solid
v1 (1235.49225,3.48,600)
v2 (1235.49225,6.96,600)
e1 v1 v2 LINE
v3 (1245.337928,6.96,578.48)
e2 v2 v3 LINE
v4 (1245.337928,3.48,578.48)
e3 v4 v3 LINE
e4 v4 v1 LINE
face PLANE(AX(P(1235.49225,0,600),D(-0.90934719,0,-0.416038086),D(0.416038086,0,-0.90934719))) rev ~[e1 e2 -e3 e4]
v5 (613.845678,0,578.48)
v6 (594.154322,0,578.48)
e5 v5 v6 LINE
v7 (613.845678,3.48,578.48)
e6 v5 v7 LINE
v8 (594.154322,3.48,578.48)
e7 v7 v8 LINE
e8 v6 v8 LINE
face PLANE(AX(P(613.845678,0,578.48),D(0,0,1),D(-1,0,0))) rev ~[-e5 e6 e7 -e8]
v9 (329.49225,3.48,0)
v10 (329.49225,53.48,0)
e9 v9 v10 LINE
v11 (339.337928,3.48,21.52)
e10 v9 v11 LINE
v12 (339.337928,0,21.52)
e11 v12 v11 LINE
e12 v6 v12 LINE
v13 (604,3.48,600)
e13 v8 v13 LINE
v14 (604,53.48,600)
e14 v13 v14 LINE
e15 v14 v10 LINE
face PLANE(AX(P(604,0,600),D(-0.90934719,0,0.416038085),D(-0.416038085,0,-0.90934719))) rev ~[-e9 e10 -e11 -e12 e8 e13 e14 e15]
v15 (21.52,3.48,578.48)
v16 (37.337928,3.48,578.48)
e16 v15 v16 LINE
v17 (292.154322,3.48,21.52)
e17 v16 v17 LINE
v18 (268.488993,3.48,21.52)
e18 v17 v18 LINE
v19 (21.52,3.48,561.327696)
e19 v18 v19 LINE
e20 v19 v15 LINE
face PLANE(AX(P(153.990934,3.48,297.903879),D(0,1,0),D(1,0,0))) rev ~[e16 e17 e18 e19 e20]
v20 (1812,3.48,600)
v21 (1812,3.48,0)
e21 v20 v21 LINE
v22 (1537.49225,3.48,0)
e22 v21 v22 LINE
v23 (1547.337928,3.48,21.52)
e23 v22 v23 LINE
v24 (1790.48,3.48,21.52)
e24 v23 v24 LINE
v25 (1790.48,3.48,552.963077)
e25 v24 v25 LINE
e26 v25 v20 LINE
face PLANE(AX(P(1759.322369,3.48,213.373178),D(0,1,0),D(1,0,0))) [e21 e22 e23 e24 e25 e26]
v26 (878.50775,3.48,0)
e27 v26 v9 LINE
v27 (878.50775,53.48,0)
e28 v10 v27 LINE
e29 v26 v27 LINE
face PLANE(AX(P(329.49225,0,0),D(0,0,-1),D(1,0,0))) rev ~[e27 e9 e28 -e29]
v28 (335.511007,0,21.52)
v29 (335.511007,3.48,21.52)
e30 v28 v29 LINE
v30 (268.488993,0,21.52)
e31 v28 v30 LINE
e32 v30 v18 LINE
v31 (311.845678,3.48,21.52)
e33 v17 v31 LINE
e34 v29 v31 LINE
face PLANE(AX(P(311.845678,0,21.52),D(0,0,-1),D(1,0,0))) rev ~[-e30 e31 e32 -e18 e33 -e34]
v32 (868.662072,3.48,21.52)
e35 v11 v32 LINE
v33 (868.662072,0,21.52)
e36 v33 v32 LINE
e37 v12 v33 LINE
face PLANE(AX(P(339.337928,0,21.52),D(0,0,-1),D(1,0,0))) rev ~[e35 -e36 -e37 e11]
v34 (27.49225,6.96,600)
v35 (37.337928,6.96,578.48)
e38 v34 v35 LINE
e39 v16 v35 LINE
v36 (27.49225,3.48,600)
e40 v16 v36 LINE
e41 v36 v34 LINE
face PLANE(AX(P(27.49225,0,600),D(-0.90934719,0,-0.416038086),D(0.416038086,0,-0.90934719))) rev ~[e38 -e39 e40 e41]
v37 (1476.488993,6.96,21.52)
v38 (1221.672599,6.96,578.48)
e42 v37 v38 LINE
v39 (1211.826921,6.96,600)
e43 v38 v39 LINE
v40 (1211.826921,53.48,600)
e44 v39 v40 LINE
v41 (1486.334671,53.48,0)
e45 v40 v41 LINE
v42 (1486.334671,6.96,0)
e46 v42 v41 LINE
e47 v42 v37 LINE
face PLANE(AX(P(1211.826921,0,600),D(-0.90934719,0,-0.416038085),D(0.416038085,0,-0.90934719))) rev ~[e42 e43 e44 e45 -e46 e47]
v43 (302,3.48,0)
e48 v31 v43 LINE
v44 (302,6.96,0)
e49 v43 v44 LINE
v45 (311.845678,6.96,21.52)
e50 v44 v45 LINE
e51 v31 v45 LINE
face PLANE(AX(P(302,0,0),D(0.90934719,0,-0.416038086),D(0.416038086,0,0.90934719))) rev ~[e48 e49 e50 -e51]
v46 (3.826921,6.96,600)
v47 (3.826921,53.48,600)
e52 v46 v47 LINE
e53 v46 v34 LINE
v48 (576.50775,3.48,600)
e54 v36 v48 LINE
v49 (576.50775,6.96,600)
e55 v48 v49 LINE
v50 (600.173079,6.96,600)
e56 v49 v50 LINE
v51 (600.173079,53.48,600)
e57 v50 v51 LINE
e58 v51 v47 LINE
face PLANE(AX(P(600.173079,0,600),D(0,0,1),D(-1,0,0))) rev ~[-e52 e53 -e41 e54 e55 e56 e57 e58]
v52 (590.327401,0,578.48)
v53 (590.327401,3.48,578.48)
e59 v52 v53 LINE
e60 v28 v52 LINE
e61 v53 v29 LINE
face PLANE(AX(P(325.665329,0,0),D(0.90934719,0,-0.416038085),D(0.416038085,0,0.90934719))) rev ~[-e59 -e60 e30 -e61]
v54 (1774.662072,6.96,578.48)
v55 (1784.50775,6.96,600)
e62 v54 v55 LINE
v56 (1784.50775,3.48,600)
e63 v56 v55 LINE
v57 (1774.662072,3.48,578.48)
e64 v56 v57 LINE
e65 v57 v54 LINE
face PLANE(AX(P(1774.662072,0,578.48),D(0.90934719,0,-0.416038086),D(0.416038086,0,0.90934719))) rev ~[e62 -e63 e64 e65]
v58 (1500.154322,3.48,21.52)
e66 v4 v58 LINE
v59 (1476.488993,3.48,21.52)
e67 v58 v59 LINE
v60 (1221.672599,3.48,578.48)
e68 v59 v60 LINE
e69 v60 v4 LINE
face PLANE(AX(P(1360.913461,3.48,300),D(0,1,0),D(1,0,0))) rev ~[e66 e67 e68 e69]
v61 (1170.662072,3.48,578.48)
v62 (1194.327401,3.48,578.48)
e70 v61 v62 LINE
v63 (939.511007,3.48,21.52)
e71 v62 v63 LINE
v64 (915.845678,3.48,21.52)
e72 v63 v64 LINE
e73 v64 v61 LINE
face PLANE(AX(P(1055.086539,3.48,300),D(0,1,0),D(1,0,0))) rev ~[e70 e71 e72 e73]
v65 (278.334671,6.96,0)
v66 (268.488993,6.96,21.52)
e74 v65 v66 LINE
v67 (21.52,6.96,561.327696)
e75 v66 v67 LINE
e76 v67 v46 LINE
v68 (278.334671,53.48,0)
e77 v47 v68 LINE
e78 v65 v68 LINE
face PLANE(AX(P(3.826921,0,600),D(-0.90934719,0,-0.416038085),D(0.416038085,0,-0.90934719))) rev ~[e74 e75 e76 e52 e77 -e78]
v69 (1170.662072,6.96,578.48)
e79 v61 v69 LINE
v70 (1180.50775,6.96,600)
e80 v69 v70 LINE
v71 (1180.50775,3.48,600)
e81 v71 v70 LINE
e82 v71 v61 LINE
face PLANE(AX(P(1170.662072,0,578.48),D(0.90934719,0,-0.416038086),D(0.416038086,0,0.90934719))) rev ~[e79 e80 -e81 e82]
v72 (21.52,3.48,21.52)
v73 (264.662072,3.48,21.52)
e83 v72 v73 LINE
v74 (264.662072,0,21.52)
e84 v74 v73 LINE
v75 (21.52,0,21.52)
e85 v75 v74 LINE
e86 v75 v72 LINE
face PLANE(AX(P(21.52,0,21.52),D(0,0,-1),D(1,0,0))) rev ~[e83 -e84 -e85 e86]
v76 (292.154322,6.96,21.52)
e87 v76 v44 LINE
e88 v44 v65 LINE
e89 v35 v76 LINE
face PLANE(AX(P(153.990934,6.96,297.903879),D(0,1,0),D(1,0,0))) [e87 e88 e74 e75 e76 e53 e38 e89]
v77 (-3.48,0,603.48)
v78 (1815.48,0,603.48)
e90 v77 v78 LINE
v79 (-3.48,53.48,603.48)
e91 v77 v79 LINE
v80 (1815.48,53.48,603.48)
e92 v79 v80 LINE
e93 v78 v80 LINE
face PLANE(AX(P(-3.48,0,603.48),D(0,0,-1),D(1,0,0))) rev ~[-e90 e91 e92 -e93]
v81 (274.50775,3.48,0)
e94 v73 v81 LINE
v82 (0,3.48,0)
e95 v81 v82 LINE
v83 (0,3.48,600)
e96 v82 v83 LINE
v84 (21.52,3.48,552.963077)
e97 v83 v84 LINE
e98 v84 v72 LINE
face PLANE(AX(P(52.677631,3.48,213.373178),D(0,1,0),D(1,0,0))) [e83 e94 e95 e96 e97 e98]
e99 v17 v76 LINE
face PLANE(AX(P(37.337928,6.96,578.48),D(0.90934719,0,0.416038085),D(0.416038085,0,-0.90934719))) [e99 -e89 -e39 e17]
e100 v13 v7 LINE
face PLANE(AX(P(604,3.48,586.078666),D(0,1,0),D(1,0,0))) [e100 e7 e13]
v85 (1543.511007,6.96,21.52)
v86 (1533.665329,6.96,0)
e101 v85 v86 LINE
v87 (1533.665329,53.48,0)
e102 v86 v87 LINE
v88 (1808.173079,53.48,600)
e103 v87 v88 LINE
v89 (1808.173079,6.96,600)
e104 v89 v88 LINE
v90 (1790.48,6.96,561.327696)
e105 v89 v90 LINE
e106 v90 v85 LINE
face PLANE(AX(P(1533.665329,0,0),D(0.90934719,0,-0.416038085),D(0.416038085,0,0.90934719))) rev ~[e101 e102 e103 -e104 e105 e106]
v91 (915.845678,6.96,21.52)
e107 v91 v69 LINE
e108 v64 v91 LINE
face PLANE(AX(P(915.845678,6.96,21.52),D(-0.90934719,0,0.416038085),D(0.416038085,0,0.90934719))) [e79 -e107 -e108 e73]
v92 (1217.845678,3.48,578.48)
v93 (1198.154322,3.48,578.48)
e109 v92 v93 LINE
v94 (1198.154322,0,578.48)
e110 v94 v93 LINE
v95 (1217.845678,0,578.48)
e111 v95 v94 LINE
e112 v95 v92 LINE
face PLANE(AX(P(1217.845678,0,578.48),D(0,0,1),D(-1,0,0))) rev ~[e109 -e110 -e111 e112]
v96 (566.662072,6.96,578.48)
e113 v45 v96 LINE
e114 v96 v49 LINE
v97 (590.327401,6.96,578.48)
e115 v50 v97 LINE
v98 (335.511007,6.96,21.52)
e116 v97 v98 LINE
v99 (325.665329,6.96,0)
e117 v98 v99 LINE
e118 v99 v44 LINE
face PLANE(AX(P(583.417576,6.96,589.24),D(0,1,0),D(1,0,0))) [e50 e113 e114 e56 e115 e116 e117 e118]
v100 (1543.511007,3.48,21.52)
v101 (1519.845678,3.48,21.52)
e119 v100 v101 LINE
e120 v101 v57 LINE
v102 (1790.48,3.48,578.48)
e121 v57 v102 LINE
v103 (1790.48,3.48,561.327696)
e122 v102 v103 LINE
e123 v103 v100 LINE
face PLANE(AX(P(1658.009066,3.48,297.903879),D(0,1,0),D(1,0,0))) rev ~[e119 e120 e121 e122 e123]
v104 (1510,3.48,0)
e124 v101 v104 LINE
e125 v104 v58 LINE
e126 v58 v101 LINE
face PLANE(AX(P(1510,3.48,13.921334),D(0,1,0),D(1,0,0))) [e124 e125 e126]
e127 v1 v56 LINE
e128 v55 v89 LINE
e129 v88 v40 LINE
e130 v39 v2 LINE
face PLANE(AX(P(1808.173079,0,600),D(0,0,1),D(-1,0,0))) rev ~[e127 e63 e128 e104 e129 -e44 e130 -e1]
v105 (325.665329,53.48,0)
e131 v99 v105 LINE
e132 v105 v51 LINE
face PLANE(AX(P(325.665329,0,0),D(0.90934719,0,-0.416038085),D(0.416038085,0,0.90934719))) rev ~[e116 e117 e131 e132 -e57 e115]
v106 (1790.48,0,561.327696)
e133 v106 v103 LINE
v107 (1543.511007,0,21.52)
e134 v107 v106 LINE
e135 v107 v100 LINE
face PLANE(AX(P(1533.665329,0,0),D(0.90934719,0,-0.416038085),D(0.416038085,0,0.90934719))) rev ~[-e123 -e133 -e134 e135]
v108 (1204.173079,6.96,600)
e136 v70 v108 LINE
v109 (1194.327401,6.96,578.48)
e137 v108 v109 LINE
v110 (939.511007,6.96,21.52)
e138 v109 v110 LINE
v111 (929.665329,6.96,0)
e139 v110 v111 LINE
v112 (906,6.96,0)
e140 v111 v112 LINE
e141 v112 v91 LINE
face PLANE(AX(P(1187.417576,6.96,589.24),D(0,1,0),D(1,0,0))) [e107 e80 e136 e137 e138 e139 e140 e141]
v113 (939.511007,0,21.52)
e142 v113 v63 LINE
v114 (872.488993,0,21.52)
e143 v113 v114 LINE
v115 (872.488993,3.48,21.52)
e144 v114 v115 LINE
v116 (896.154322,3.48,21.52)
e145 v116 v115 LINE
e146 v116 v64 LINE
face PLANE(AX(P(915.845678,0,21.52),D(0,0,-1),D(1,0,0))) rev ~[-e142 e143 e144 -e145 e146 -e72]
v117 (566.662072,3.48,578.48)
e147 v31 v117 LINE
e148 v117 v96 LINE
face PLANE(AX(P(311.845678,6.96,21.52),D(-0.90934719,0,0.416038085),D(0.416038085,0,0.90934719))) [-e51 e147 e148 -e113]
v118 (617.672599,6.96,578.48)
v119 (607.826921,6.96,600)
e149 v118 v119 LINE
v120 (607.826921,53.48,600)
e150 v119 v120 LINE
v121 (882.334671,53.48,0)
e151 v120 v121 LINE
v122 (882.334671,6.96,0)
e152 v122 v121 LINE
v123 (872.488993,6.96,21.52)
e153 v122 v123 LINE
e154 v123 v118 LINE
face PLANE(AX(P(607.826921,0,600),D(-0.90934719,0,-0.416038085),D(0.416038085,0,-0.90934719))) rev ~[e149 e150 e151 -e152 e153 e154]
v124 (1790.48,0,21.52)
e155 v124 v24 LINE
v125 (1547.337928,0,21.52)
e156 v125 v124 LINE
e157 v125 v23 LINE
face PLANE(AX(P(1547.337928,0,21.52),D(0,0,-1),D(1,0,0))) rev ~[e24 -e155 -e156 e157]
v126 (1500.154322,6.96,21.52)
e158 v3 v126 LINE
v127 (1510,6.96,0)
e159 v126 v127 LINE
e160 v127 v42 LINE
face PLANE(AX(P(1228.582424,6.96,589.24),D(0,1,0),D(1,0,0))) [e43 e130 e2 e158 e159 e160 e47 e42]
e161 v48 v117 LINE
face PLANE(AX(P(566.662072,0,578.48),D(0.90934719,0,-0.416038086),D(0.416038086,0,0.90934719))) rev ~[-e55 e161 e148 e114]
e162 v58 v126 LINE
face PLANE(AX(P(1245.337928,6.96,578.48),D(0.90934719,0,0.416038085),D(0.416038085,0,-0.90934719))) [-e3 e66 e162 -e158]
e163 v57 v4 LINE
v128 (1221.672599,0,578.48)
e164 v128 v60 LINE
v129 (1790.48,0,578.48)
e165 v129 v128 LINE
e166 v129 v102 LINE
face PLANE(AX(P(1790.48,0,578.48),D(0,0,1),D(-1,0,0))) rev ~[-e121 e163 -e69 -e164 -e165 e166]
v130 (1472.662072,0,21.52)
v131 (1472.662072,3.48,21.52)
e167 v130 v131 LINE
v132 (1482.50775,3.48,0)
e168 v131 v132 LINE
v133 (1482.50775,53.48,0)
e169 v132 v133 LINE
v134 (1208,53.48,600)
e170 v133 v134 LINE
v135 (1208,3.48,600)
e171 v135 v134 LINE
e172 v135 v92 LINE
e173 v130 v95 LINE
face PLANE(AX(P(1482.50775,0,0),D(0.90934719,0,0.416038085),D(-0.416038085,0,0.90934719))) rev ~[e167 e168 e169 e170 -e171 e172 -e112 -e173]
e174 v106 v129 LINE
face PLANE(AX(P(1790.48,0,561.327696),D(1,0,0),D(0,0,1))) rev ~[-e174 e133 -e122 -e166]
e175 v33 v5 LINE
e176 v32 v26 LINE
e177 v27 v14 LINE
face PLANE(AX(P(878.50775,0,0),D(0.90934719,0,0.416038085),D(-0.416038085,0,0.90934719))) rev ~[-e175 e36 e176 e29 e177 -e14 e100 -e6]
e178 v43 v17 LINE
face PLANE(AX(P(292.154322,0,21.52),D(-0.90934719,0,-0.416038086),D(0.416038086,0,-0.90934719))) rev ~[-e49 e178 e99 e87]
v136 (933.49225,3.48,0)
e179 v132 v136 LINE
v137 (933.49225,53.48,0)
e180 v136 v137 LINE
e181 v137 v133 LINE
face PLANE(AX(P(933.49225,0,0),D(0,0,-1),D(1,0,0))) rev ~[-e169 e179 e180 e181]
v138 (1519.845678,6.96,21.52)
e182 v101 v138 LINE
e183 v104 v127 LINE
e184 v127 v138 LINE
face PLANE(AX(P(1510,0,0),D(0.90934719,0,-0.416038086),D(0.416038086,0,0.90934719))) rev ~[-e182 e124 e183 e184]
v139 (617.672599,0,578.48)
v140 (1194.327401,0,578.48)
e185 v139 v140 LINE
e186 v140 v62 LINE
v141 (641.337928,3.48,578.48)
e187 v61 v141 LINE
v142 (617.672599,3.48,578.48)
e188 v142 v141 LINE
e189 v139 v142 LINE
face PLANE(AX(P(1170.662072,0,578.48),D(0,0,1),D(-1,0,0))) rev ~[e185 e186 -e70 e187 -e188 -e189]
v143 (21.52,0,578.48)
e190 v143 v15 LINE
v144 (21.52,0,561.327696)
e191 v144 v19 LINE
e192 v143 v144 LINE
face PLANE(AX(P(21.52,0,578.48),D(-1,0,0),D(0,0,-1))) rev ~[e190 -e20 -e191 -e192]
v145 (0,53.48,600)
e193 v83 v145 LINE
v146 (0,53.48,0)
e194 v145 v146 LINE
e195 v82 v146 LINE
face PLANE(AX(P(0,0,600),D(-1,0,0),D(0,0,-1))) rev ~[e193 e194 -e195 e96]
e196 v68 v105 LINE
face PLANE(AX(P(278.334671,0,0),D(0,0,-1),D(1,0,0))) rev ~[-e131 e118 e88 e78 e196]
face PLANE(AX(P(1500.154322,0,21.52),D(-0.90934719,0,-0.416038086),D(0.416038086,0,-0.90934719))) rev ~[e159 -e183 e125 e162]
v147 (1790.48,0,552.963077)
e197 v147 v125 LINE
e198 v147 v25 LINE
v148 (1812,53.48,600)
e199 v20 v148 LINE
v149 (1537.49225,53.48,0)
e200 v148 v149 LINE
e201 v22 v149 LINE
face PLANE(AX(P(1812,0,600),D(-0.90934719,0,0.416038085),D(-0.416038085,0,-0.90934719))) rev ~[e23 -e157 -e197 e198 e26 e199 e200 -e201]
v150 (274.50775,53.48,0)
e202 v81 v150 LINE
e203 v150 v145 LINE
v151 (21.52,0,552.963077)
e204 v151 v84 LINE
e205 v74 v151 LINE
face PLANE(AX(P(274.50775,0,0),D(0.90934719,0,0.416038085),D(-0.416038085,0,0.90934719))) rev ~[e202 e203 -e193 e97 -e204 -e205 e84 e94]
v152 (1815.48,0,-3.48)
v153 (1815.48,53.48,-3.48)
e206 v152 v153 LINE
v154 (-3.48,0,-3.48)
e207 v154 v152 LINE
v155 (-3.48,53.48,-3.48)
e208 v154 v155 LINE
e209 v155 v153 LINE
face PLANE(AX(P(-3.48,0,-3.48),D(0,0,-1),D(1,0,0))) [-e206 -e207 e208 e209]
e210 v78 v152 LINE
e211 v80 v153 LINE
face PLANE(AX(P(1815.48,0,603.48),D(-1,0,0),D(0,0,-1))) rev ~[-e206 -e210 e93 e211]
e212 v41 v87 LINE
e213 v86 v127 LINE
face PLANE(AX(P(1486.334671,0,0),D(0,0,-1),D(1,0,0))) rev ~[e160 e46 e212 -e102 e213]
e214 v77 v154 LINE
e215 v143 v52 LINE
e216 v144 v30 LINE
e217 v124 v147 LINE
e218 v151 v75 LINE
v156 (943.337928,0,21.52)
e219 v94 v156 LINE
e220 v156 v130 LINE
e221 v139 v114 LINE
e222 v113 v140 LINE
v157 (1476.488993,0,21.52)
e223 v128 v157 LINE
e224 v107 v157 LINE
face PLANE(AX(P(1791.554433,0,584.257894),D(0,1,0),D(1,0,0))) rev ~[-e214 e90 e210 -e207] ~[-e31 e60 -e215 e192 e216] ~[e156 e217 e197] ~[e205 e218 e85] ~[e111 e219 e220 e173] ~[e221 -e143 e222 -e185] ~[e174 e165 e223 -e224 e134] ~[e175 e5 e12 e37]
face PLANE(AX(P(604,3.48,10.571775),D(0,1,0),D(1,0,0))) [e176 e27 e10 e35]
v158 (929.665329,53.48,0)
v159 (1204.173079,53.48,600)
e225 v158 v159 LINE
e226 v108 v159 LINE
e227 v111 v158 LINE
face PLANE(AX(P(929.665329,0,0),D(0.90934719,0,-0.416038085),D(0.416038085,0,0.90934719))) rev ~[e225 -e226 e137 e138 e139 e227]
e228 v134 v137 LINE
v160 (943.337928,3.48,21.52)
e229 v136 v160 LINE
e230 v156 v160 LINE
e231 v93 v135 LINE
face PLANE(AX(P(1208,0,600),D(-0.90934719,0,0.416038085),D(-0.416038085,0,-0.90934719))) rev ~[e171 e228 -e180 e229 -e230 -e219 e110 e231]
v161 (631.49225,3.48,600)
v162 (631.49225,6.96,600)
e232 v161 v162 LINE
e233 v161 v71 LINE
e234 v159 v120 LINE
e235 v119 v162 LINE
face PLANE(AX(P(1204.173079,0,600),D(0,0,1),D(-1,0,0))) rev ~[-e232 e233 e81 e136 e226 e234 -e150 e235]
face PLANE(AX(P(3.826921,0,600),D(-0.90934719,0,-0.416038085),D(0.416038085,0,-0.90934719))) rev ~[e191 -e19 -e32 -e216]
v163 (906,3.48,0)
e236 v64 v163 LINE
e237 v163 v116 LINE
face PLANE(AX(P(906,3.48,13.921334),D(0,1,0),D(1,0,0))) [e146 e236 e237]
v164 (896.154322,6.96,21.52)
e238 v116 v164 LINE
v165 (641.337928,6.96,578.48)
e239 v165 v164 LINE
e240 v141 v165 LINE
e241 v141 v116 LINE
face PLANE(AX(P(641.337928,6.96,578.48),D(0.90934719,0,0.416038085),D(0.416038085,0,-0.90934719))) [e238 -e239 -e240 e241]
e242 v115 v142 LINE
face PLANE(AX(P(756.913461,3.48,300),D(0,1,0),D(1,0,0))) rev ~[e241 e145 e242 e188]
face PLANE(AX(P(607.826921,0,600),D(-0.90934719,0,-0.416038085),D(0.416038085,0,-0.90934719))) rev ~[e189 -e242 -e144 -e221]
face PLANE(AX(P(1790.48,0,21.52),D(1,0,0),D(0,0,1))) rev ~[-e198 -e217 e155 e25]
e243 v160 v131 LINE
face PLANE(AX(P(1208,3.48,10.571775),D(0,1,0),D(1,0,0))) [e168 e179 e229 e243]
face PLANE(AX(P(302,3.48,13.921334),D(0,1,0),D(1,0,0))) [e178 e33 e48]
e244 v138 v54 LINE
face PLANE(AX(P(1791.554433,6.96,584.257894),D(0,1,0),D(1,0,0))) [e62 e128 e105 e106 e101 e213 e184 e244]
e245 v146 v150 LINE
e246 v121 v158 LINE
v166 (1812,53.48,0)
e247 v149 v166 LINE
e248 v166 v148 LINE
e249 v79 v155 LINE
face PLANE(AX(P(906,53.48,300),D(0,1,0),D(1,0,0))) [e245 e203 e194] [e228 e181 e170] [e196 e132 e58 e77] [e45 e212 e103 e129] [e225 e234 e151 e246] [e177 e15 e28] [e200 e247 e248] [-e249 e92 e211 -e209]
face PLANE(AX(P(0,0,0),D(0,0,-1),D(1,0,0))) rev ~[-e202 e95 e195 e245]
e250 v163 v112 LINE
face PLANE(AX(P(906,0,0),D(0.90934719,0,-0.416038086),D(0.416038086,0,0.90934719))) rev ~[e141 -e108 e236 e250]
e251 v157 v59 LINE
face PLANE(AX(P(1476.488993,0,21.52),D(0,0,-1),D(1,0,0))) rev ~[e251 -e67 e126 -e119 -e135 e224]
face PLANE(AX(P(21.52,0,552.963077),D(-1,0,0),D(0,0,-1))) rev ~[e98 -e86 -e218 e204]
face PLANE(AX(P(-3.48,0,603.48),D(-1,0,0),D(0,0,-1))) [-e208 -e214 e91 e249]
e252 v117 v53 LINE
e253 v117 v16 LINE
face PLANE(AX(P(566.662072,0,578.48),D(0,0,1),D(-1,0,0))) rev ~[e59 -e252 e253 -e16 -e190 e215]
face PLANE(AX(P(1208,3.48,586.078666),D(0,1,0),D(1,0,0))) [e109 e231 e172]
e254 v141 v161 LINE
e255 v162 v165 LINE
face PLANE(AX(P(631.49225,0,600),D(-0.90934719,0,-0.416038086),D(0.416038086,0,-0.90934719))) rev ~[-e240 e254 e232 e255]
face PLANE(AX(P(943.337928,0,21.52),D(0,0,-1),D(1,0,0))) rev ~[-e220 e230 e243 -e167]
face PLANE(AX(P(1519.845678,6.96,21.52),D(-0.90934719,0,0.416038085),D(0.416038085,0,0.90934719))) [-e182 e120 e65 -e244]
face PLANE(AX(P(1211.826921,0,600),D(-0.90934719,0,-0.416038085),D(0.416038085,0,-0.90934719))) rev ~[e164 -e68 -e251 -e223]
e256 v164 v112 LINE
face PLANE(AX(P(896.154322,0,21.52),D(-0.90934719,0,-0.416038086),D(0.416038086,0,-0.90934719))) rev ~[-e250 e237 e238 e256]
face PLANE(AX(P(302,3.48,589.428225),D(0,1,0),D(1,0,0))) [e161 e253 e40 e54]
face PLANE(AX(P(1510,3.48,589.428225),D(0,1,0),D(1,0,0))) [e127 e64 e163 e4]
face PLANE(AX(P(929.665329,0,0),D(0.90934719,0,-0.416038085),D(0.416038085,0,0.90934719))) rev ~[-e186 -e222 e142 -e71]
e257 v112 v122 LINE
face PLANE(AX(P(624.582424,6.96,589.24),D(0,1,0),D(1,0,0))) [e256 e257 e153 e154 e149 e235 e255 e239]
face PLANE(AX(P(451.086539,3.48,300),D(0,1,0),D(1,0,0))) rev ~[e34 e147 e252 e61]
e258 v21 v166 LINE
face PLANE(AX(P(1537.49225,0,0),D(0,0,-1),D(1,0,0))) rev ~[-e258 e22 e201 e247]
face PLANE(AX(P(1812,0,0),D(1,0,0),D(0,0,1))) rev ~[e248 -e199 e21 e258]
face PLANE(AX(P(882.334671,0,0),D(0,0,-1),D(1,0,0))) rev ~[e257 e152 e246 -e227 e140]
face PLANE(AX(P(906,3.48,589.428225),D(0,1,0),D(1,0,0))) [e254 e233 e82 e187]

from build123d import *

# Parameters (mm, degrees)
SKETCH1_W            = 1818.96
SKETCH1_H            = 606.96
BOSS_EXTRUDE2_DEPTH  = 53.48
BOSS_EXTRUDE9_DEPTH  = 3.48
BOSS_EXTRUDE10_DEPTH = 6.96
BOSS_EXTRUDE11_START = 6.96
BOSS_EXTRUDE11_DEPTH = 3.48


with BuildPart() as part:
    # Sketch1 → Boss-Extrude2 (new body)
    with BuildSketch(Plane(origin=(0, 0, 0), x_dir=(1, 0, 0), z_dir=(0, 1, 0))):
        with Locations((906, -300)):
            Rectangle(SKETCH1_W, SKETCH1_H)
        Polygon((274.507750304, 0), (0, -600), (0, 0), align=None, mode=Mode.SUBTRACT)
        Polygon((3.826921158, -600), (278.334671461, 0), (325.665328539, 0), (600.173078842, -600), align=None, mode=Mode.SUBTRACT)
        Polygon((607.826921158, -600), (882.334671461, 0), (929.665328539, 0), (1204.173078842, -600), align=None, mode=Mode.SUBTRACT)
        Polygon((1211.826921158, -600), (1486.334671461, 0), (1533.665328539, 0), (1808.173078842, -600), align=None, mode=Mode.SUBTRACT)
        Polygon((1812, 0), (1812, -600), (1537.492249696, 0), align=None, mode=Mode.SUBTRACT)
        Polygon((933.492249696, 0), (1482.507750304, 0), (1208, -600), align=None, mode=Mode.SUBTRACT)
        Polygon((329.492249696, 0), (878.507750304, 0), (604, -600), align=None, mode=Mode.SUBTRACT)
    extrude(amount=BOSS_EXTRUDE2_DEPTH)

    # Sketch1<7> → Boss-Extrude9 (add)
    with BuildSketch(Plane(origin=(0, 0, 0), x_dir=(1, 0, 0), z_dir=(0, 1, 0))):
        Polygon((37.337927674, -578.48), (27.492249696, -600), (576.507750304, -600), (566.662072326, -578.48), align=None)
        Polygon((274.507750304, 0), (0, 0), (0, -600), (21.52, -552.963076686), (21.52, -21.52), (264.662072326, -21.52), align=None)
        Polygon((641.337927674, -578.48), (631.492249696, -600), (1180.507750304, -600), (1170.662072326, -578.48), align=None)
        Polygon((1245.337927674, -578.48), (1235.492249696, -600), (1784.507750304, -600), (1774.662072326, -578.48), align=None)
        Polygon((1812, 0), (1537.492249696, 0), (1547.337927674, -21.52), (1790.48, -21.52), (1790.48, -552.963076686), (1812, -600), align=None)
        Polygon((1198.154322022, -578.48), (1208, -600), (1217.845677978, -578.48), align=None)
        Polygon((594.154322022, -578.48), (604, -600), (613.845677978, -578.48), align=None)
        Polygon((1482.507750304, 0), (933.492249696, 0), (943.337927674, -21.52), (1472.662072326, -21.52), align=None)
        Polygon((1519.845677978, -21.52), (1510, 0), (1500.154322022, -21.52), align=None)
        Polygon((915.845677978, -21.52), (906, 0), (896.154322022, -21.52), align=None)
        Polygon((878.507750304, 0), (329.492249696, 0), (339.337927674, -21.52), (868.662072326, -21.52), align=None)
        Polygon((311.845677978, -21.52), (302, 0), (292.154322022, -21.52), align=None)
    extrude(amount=BOSS_EXTRUDE9_DEPTH)

    # Sketch1<9> → Boss-Extrude10 (add)
    with BuildSketch(Plane(origin=(0, 0, 0), x_dir=(1, 0, 0), z_dir=(0, 1, 0))):
        Polygon((1774.662072326, -578.48), (1784.507750304, -600), (1808.173078842, -600), (1790.48, -561.327695507), (1790.48, -578.48), align=None)
        Polygon((1221.672599135, -578.48), (1211.826921158, -600), (1235.492249696, -600), (1245.337927674, -578.48), align=None)
        Polygon((1170.662072326, -578.48), (1180.507750304, -600), (1204.173078842, -600), (1194.327400865, -578.48), align=None)
        Polygon((617.672599135, -578.48), (607.826921158, -600), (631.492249696, -600), (641.337927674, -578.48), align=None)
        Polygon((566.662072326, -578.48), (576.507750304, -600), (600.173078842, -600), (590.327400865, -578.48), align=None)
        Polygon((21.52, -561.327695507), (3.826921158, -600), (27.492249696, -600), (37.337927674, -578.48), (21.52, -578.48), align=None)
        Polygon((302, 0), (278.334671461, 0), (268.488993484, -21.52), (292.154322022, -21.52), align=None)
        Polygon((325.665328539, 0), (302, 0), (311.845677978, -21.52), (335.511006516, -21.52), align=None)
        Polygon((929.665328539, 0), (906, 0), (915.845677978, -21.52), (939.511006516, -21.52), align=None)
        Polygon((906, 0), (882.334671461, 0), (872.488993484, -21.52), (896.154322022, -21.52), align=None)
        Polygon((1533.665328539, 0), (1510, 0), (1519.845677978, -21.52), (1543.511006516, -21.52), align=None)
        Polygon((1510, 0), (1486.334671461, 0), (1476.488993484, -21.52), (1500.154322022, -21.52), align=None)
    extrude(amount=BOSS_EXTRUDE10_DEPTH)

    # Sketch1<10> → Boss-Extrude11 (add)
    with BuildSketch(Plane(origin=(0, 0, 0), x_dir=(1, 0, 0), z_dir=(0, 1, 0)).offset(BOSS_EXTRUDE11_START)):
        Polygon((292.154322022, -21.52), (268.488993484, -21.52), (21.52, -561.327695507), (21.52, -578.48), (37.337927674, -578.48), align=None)
        Polygon((335.511006516, -21.52), (311.845677978, -21.52), (566.662072326, -578.48), (590.327400865, -578.48), align=None)
        Polygon((896.154322022, -21.52), (872.488993484, -21.52), (617.672599135, -578.48), (641.337927674, -578.48), align=None)
        Polygon((939.511006516, -21.52), (915.845677978, -21.52), (1170.662072326, -578.48), (1194.327400865, -578.48), align=None)
        Polygon((1500.154322022, -21.52), (1476.488993484, -21.52), (1221.672599135, -578.48), (1245.337927674, -578.48), align=None)
        Polygon((1543.511006516, -21.52), (1519.845677978, -21.52), (1774.662072326, -578.48), (1790.48, -578.48), (1790.48, -561.327695507), align=None)
    extrude(amount=-BOSS_EXTRUDE11_DEPTH)


solid = part.part
